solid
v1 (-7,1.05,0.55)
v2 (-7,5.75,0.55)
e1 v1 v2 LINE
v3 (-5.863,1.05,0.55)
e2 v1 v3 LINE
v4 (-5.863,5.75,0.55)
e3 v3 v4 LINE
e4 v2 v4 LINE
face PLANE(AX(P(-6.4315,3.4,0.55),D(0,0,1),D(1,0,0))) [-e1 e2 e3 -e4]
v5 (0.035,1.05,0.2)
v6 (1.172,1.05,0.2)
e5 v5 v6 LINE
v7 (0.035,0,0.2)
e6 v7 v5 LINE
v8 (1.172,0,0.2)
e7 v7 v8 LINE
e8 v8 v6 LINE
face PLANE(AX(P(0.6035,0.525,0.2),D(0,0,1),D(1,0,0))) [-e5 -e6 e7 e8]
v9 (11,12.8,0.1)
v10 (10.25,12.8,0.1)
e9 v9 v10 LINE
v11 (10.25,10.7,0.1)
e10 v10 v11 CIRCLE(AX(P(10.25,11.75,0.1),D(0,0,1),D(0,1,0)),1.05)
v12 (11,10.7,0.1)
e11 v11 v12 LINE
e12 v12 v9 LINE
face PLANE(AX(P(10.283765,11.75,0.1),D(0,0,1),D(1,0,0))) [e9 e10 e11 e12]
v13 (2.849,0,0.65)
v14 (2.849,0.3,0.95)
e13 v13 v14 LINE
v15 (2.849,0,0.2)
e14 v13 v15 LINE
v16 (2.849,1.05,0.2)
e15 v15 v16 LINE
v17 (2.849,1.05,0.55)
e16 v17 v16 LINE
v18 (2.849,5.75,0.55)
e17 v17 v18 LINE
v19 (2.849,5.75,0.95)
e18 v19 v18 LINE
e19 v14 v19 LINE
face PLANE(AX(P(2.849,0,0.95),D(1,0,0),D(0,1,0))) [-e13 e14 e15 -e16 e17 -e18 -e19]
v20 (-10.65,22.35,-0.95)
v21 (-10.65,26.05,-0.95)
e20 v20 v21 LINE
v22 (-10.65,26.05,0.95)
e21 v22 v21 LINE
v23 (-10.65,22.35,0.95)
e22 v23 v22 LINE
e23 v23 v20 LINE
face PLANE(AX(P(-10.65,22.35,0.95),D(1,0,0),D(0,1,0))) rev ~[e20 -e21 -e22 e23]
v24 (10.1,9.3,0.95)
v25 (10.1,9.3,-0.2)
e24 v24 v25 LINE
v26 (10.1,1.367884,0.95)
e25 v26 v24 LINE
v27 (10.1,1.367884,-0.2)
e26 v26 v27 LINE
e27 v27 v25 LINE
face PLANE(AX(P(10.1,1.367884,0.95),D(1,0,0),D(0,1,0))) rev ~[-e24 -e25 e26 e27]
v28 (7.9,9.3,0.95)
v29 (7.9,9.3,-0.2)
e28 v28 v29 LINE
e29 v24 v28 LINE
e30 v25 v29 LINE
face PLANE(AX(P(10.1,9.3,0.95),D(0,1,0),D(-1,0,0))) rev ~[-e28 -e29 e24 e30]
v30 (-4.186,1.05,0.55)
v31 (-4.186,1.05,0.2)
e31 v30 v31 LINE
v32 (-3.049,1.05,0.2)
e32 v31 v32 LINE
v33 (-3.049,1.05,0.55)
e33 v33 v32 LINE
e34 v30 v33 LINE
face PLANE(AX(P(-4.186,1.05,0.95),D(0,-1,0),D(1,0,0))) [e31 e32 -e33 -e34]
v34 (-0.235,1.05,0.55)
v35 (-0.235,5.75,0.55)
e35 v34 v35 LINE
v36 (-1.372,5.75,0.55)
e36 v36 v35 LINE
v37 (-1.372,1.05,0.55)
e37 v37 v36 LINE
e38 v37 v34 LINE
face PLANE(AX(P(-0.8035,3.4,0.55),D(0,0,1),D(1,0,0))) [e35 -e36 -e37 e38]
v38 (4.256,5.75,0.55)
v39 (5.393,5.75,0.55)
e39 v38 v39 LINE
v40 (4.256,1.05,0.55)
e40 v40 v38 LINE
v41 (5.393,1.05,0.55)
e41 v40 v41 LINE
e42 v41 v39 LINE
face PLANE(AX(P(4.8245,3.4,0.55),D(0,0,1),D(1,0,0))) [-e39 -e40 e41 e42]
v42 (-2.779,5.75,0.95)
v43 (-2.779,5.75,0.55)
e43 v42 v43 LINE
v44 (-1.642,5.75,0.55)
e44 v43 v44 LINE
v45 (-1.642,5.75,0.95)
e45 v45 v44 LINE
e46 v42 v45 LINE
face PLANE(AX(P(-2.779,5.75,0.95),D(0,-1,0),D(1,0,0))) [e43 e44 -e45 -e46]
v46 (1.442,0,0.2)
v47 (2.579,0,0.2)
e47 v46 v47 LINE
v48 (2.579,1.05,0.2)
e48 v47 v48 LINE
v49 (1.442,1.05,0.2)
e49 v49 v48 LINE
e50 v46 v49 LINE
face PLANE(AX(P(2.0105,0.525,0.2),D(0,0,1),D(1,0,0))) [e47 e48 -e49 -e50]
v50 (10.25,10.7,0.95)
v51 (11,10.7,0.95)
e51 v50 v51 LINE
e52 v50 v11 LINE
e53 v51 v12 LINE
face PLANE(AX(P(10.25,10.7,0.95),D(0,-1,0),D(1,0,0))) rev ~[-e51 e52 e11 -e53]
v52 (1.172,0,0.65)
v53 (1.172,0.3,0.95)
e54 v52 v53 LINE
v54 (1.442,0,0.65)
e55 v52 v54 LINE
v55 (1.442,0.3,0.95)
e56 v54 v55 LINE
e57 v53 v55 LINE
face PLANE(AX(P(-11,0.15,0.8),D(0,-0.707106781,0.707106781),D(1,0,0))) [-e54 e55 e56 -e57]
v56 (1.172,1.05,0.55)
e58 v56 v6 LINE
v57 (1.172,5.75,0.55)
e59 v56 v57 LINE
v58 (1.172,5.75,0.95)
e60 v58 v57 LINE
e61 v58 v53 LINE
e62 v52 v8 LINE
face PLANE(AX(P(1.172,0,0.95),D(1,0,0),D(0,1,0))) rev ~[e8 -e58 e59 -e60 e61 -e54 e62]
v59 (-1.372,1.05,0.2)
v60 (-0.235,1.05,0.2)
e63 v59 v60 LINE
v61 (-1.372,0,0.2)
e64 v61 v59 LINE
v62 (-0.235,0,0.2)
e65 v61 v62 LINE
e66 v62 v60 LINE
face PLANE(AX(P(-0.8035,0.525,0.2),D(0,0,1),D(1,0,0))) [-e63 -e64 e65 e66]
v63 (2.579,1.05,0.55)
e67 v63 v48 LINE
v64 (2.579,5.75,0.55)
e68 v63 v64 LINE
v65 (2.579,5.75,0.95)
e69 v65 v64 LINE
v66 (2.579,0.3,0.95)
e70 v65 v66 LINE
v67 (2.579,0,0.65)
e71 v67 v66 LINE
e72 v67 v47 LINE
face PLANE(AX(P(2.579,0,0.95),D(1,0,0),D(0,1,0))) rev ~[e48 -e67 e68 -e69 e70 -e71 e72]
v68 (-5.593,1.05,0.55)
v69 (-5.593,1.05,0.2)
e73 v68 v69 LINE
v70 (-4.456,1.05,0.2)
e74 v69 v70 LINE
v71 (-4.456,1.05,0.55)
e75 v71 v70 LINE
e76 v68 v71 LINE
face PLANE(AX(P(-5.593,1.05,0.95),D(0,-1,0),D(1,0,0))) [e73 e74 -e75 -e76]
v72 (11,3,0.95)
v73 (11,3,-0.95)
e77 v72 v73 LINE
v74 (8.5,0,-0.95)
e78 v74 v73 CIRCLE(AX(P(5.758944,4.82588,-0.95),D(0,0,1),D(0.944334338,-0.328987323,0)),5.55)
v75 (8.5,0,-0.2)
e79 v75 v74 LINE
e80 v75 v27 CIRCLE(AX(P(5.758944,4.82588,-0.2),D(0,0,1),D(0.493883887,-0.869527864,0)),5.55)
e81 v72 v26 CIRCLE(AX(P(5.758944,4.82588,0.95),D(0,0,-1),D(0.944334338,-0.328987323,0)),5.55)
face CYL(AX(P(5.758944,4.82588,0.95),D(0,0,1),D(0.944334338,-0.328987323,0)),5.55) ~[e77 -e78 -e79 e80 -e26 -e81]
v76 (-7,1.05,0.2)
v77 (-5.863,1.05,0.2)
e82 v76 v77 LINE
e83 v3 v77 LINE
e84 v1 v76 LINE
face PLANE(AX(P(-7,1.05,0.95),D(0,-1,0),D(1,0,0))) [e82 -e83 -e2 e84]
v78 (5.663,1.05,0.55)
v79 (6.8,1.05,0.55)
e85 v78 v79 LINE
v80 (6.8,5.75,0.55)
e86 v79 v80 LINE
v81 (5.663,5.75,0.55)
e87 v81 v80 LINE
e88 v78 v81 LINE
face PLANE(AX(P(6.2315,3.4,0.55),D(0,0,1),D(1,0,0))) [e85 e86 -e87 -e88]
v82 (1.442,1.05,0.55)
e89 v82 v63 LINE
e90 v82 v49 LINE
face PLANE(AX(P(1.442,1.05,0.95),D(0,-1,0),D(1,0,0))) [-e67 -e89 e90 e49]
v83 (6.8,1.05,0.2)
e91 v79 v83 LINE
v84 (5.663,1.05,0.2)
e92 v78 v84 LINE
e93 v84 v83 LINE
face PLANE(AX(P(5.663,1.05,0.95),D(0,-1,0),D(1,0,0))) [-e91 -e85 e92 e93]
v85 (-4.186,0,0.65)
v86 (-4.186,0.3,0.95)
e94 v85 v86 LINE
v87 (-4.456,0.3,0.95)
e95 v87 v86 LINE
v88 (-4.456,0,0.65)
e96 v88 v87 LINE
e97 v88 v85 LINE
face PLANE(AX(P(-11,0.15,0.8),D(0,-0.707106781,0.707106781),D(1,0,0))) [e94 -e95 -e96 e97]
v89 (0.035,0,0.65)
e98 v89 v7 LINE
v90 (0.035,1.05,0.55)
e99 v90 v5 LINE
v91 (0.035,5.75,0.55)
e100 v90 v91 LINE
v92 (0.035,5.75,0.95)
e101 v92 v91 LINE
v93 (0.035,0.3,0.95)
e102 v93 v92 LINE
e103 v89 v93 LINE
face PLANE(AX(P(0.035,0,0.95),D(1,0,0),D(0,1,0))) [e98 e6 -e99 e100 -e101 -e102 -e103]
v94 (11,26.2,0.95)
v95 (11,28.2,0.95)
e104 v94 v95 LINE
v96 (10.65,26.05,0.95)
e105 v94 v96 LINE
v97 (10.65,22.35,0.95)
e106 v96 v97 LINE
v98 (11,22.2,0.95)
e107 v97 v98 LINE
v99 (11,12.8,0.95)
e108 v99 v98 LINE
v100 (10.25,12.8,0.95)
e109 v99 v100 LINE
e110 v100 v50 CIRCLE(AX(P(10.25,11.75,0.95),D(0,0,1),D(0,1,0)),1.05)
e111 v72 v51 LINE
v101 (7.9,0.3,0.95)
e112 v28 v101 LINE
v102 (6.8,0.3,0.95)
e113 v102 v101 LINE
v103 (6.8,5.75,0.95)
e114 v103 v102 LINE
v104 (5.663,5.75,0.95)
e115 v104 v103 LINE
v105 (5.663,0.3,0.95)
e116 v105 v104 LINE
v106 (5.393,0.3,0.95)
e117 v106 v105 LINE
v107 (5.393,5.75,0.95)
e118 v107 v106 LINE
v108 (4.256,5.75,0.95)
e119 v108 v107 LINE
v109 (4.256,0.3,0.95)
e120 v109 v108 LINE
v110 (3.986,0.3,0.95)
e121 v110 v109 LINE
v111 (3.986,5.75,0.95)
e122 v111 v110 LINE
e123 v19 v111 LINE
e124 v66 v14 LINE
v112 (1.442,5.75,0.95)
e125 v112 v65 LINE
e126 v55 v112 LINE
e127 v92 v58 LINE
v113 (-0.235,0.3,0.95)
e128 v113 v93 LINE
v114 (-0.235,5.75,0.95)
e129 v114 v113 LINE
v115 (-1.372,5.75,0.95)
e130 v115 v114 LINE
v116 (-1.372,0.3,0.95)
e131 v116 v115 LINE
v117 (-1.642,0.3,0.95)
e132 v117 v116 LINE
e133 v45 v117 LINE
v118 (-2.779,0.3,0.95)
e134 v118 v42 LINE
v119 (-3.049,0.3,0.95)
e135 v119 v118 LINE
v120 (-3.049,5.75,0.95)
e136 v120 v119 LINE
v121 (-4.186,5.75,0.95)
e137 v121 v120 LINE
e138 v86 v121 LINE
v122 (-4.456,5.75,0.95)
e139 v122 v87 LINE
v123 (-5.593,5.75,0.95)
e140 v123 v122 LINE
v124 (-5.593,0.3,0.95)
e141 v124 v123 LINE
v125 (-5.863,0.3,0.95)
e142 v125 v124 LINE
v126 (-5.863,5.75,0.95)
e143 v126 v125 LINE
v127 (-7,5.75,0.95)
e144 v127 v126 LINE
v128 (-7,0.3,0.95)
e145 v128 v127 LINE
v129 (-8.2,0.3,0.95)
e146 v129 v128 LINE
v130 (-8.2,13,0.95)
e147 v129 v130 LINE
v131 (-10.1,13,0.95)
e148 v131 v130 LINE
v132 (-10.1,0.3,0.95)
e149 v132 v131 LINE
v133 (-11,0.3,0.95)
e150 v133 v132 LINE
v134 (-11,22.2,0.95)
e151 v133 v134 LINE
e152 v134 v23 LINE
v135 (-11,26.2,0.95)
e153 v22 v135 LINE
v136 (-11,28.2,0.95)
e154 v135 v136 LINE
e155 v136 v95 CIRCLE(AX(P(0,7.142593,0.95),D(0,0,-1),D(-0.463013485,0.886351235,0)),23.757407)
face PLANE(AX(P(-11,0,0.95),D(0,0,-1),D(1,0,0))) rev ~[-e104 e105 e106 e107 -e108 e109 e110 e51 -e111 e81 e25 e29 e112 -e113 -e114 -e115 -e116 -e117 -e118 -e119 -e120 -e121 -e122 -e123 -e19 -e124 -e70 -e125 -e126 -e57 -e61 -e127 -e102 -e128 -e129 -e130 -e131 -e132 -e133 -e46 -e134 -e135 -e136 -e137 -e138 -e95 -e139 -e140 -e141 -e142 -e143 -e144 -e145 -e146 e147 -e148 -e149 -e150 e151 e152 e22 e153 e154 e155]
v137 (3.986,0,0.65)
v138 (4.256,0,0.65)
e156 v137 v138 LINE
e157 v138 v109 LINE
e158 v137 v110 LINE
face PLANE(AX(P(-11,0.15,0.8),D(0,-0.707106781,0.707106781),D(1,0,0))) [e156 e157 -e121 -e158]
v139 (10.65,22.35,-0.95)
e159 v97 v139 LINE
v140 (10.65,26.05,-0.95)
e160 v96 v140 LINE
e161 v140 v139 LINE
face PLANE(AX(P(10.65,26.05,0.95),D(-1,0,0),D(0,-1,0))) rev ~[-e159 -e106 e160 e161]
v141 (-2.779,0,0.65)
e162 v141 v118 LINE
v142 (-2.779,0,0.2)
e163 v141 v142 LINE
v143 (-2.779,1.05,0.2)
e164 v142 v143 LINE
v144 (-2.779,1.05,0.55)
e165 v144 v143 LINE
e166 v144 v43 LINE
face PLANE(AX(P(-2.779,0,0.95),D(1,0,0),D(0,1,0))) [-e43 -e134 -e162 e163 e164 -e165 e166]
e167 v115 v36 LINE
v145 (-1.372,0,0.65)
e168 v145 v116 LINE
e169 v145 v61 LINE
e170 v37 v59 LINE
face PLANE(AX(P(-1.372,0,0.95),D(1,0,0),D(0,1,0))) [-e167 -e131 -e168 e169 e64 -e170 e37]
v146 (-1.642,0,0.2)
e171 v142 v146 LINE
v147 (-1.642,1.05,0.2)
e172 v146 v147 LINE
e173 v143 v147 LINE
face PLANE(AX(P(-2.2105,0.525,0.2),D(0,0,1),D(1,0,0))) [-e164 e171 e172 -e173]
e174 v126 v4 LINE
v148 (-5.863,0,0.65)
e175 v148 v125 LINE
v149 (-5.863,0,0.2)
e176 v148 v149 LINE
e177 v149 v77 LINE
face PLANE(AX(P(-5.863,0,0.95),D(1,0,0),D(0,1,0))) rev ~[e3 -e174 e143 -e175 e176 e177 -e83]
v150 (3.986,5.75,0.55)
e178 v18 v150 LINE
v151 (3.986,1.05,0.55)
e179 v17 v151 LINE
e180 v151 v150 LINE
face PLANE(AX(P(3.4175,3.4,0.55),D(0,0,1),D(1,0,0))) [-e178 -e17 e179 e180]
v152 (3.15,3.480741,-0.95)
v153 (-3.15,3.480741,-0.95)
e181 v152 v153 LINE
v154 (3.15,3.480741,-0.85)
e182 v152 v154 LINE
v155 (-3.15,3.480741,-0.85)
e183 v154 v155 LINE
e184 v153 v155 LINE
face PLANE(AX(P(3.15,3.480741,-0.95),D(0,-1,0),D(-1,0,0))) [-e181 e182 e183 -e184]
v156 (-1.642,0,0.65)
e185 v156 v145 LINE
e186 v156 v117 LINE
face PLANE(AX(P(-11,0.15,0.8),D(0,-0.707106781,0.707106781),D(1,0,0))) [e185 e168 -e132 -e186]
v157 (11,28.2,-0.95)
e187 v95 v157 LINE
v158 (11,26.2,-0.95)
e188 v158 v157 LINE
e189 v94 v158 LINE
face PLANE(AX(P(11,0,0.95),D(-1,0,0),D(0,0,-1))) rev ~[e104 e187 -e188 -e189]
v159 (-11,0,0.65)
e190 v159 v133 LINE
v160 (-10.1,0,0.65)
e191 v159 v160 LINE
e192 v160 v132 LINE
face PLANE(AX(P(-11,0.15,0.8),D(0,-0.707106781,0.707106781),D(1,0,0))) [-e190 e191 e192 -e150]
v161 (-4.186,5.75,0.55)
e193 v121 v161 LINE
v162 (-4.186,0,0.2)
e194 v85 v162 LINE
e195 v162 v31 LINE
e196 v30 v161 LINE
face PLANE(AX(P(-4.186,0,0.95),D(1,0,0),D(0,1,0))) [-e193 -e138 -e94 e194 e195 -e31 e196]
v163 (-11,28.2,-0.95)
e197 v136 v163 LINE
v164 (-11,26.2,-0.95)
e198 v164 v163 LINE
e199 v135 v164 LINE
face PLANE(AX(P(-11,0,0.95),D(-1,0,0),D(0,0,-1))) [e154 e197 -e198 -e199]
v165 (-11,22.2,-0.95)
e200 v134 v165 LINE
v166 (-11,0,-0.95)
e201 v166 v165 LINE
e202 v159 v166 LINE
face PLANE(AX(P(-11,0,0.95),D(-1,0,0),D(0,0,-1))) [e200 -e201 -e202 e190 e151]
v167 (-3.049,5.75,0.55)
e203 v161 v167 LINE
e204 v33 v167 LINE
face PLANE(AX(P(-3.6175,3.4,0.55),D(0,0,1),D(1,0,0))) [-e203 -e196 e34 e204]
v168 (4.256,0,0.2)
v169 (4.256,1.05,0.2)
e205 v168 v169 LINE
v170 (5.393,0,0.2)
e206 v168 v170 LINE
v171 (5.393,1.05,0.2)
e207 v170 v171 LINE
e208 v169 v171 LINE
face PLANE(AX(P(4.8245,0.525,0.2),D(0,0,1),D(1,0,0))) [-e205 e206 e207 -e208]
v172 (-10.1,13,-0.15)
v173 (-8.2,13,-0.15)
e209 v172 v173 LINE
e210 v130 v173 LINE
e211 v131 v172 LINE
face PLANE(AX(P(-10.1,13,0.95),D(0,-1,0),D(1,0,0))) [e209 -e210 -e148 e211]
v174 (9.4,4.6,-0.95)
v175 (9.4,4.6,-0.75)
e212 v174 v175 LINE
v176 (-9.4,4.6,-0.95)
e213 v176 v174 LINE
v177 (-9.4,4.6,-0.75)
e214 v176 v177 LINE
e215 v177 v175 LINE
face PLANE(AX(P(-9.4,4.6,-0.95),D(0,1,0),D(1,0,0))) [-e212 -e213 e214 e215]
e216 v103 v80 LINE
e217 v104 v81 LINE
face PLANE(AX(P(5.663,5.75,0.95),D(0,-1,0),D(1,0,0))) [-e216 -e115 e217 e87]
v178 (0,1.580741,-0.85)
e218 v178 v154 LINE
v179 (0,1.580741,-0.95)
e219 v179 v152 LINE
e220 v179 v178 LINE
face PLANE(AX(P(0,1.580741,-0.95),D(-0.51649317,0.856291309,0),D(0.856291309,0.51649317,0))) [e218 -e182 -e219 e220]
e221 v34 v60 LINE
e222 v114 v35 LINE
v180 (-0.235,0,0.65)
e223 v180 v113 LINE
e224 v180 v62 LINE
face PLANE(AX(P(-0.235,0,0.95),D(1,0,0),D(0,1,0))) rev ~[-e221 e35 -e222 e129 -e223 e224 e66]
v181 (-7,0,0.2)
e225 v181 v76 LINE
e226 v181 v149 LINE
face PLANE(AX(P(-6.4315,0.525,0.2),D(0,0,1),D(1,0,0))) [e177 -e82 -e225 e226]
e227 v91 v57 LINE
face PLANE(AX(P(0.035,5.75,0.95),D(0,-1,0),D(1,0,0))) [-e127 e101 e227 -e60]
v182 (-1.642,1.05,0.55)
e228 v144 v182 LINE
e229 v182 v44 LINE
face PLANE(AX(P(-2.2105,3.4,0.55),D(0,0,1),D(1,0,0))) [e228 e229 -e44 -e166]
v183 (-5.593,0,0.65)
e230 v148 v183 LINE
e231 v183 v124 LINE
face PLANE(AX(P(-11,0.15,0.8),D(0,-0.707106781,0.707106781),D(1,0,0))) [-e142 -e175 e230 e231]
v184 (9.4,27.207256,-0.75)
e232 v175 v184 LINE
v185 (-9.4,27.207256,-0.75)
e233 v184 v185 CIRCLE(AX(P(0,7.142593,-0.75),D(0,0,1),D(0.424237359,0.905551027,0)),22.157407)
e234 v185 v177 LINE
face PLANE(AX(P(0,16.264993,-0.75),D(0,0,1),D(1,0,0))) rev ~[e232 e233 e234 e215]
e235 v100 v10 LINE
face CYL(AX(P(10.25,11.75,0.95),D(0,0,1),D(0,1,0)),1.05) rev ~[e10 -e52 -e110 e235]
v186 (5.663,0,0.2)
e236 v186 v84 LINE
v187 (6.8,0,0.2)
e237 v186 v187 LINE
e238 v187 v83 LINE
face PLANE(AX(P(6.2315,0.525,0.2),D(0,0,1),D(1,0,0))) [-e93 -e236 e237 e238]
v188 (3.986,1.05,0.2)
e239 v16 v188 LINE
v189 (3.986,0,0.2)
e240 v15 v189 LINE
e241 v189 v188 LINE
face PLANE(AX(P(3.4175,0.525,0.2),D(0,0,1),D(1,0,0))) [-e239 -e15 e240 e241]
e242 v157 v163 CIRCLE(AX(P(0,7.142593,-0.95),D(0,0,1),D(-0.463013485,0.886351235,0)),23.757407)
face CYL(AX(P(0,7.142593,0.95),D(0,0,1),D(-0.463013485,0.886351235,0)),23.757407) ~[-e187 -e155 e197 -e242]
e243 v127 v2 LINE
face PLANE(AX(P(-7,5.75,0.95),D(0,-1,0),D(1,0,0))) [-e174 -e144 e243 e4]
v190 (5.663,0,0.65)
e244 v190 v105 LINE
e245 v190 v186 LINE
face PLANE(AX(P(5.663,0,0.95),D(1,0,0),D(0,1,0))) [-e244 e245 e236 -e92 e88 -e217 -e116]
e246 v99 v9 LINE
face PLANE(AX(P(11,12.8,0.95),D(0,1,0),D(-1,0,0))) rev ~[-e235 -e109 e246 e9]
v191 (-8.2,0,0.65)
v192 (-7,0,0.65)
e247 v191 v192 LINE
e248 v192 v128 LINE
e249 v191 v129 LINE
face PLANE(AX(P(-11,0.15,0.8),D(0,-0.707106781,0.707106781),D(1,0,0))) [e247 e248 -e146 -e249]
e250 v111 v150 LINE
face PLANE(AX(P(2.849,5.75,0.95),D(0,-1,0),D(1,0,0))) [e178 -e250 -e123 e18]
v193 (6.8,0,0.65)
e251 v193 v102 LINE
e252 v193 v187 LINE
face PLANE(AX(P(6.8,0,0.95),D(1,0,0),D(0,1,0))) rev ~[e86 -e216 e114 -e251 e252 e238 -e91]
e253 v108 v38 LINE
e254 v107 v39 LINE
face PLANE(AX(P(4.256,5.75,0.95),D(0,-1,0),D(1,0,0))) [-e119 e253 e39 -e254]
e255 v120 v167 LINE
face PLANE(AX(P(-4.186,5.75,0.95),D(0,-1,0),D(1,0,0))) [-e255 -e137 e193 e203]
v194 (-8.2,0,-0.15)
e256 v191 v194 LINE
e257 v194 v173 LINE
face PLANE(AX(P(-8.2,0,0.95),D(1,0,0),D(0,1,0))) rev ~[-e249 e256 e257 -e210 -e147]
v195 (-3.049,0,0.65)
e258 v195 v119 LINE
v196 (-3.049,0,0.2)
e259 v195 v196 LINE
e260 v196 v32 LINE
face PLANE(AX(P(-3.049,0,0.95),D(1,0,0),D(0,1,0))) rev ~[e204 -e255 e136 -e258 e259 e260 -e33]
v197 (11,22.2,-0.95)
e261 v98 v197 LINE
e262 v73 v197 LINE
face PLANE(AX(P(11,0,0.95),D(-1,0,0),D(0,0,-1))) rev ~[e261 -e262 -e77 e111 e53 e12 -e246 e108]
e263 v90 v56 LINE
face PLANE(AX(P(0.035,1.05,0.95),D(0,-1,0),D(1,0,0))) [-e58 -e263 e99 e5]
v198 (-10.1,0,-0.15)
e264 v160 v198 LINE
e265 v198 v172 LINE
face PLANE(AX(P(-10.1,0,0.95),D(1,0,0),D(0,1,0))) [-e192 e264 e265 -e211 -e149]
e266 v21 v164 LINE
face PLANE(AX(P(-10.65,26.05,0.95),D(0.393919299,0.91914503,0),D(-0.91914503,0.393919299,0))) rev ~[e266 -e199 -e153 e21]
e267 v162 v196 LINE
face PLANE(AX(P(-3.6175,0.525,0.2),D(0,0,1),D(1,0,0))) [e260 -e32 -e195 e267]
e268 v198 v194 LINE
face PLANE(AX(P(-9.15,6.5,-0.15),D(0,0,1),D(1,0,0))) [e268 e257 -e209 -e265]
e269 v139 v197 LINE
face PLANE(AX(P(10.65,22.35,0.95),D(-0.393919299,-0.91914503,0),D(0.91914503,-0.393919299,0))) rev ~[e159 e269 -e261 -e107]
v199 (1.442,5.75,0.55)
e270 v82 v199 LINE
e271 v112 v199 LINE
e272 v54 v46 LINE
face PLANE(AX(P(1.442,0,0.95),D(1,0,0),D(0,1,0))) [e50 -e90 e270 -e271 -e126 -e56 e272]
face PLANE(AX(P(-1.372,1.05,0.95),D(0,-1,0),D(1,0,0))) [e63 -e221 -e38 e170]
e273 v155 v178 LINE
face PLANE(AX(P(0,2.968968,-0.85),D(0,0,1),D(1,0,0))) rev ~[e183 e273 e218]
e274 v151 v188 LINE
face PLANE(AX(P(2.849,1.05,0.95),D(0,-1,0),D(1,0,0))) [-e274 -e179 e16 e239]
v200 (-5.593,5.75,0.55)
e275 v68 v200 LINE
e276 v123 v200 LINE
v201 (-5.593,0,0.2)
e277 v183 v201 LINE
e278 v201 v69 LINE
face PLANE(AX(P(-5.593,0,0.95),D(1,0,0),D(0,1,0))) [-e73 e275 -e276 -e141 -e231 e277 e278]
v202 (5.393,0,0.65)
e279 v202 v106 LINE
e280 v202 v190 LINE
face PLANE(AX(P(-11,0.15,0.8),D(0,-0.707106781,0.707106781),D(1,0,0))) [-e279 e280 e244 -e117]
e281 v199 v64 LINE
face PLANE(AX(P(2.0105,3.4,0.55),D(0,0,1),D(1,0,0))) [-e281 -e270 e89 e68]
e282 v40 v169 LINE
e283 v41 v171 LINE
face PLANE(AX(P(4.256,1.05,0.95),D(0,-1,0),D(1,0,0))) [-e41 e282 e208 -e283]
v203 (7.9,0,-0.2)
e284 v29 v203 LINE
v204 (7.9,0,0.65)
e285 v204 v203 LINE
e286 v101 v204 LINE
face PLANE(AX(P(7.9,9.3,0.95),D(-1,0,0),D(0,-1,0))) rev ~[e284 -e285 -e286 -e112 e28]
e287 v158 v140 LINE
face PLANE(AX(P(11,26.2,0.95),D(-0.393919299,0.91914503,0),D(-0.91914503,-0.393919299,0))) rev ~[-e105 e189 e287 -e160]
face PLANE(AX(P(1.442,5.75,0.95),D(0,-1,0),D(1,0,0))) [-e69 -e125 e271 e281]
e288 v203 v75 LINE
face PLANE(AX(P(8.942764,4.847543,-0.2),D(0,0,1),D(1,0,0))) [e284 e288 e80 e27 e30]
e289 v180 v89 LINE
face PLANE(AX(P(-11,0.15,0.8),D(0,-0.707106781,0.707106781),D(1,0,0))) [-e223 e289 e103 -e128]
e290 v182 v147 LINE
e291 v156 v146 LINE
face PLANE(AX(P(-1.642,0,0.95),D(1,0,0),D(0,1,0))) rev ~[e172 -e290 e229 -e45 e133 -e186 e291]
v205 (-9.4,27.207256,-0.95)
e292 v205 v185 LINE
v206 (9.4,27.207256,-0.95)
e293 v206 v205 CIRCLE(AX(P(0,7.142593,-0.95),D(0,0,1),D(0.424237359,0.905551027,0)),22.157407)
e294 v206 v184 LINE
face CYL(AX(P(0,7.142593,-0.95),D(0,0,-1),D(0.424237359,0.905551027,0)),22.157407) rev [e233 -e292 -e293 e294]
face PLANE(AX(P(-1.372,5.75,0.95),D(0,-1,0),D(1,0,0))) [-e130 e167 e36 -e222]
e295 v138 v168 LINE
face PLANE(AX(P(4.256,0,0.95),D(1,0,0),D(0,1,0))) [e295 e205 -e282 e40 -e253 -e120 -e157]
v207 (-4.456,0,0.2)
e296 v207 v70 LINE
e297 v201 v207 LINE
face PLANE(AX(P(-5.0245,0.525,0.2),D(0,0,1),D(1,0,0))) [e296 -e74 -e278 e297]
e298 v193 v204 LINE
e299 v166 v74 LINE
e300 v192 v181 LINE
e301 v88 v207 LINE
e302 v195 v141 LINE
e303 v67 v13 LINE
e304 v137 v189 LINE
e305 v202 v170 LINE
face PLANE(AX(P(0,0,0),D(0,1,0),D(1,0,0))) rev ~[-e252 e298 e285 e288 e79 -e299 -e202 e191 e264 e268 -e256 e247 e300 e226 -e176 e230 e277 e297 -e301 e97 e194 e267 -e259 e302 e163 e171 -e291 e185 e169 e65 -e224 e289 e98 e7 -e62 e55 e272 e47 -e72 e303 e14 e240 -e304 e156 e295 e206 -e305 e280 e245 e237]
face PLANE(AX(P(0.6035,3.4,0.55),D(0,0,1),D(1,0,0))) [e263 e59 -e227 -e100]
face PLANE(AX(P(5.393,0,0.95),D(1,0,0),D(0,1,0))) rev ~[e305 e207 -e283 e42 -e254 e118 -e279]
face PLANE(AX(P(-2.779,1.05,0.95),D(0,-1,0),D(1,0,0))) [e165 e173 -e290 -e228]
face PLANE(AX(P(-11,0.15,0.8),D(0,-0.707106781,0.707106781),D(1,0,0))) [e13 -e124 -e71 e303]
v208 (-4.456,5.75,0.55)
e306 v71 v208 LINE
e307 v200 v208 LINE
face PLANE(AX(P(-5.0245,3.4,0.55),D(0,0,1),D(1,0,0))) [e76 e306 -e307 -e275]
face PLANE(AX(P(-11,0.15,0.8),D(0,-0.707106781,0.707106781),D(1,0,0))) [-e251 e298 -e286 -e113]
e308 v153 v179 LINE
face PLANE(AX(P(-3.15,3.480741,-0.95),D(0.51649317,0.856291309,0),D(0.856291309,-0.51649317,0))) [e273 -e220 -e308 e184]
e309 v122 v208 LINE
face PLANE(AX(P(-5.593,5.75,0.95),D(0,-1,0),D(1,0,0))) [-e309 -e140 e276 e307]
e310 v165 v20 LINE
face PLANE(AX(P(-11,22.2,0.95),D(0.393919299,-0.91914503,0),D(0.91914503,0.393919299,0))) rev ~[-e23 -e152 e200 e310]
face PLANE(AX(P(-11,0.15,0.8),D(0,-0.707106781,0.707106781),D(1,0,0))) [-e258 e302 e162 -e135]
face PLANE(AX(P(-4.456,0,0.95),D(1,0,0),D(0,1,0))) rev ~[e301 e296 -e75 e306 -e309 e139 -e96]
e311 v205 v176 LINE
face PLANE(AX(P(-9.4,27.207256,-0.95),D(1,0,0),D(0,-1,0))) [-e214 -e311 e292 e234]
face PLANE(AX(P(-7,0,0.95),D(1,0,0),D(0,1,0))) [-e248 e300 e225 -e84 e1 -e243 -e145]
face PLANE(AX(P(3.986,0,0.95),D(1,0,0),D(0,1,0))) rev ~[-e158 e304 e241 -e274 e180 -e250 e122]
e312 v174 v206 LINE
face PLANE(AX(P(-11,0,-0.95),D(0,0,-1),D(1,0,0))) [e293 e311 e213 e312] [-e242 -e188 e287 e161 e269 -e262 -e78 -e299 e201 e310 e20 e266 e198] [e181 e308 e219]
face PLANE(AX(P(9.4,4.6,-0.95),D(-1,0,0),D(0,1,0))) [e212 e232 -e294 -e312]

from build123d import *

# Parameters (mm, degrees)
SKETCH1_W           = 22
SKETCH1_H           = 1.9
BOSS_EXTRUDE1_DEPTH = 31.1
CUT_EXTRUDE2_REACH  = 35.043
CUT_EXTRUDE3_REACH  = 34.855
CUT_EXTRUDE4_DEPTH  = 0.85
CHAMFER1_SIZE       = 0.3
SKETCH2_8_W         = 1.9
SKETCH2_8_H         = 13
CUT_EXTRUDE6_DEPTH  = 1.1
CUT_EXTRUDE7_DEPTH  = 1.15
SKETCH2_10_W        = 1.137
SKETCH2_10_H        = 1.05
CUT_EXTRUDE8_DEPTH  = 0.75
SKETCH2_11_W        = 1.137
SKETCH2_11_H        = 4.7
CUT_EXTRUDE9_DEPTH  = 0.4
CUT_EXTRUDE10_DEPTH = 0.2
CUT_EXTRUDE12_DEPTH = 0.1


with BuildPart() as part:
    # Sketch1 → Boss-Extrude1 (new body)
    with BuildSketch(Plane(origin=(0, 0, 0), x_dir=(1, 0, 0), z_dir=(0, 1, 0))):
        Rectangle(SKETCH1_W, SKETCH1_H)
    extrude(amount=BOSS_EXTRUDE1_DEPTH)

    # Sketch2 → Cut-Extrude2 (cut, up to next)
    with BuildSketch(Plane.XY.offset(0.95), mode=Mode.PRIVATE) as cut_extrude2_sk1:
        with BuildLine():
            Line((-11, 31.1), (-11, 28.2))
            ThreePointArc((-11, 28.2), (0, 30.9), (11, 28.2))
            Line((11, 28.2), (11, 31.1))
            Line((11, 31.1), (-11, 31.1))
        make_face()
    cut_extrude2_tool1 = extrude(cut_extrude2_sk1.sketch, amount=-CUT_EXTRUDE2_REACH, mode=Mode.PRIVATE) & part.part
    add(cut_extrude2_tool1.solids().sort_by_distance((10.778097, 29.65, 0.95))[0], mode=Mode.SUBTRACT)

    # Sketch2<4> → Cut-Extrude3 (cut, up to next)
    with BuildSketch(Plane.XY.offset(0.95), mode=Mode.PRIVATE) as cut_extrude3_sk1:
        Polygon((-11, 26.2), (-11, 22.2), (-10.65, 22.35), (-10.65, 26.05), align=None)
    cut_extrude3_tool1 = extrude(cut_extrude3_sk1.sketch, amount=-CUT_EXTRUDE3_REACH, mode=Mode.PRIVATE) & part.part
    # Sketch2<4> → Cut-Extrude3 (cut, up to next)
    with BuildSketch(Plane.XY.offset(0.95), mode=Mode.PRIVATE) as cut_extrude3_sk2:
        Polygon((11, 22.2), (11, 26.2), (10.65, 26.05), (10.65, 22.35), align=None)
    cut_extrude3_tool2 = extrude(cut_extrude3_sk2.sketch, amount=-CUT_EXTRUDE3_REACH, mode=Mode.PRIVATE) & part.part
    # Sketch2<4> → Cut-Extrude3 (cut, up to next)
    with BuildSketch(Plane.XY.offset(0.95), mode=Mode.PRIVATE) as cut_extrude3_sk3:
        with BuildLine():
            Line((11, 0), (11, 3))
            ThreePointArc((11, 3), (10.022572528, 1.272856226), (8.5, 0))
            Line((8.5, 0), (11, 0))
        make_face()
    cut_extrude3_tool3 = extrude(cut_extrude3_sk3.sketch, amount=-CUT_EXTRUDE3_REACH, mode=Mode.PRIVATE) & part.part
    add(cut_extrude3_tool1.solids().sort_by_distance((-10.827273, 24.2, 0.95))[0], mode=Mode.SUBTRACT)
    add(cut_extrude3_tool2.solids().sort_by_distance((10.827273, 24.2, 0.95))[0], mode=Mode.SUBTRACT)
    add(cut_extrude3_tool3.solids().sort_by_distance((10.267991, 0.865194, 0.95))[0], mode=Mode.SUBTRACT)

    # Sketch2<5> → Cut-Extrude4 (cut)
    with BuildSketch(Plane.XY.offset(0.95)):
        with BuildLine():
            Line((11, 10.7), (11, 12.8))
            Line((11, 12.8), (10.25, 12.8))
            ThreePointArc((10.25, 12.8), (9.2, 11.75), (10.25, 10.7))
            Line((10.25, 10.7), (11, 10.7))
        make_face()
    extrude(amount=-CUT_EXTRUDE4_DEPTH, mode=Mode.SUBTRACT)

    # Chamfer1
    chamfer1_edges = [part.edges().sort_by_distance(p)[0] for p in [
        (-1.25, 0, 0.95),
    ]]
    chamfer(chamfer1_edges, length=CHAMFER1_SIZE)

    # Sketch2<8> → Cut-Extrude6 (cut)
    with BuildSketch(Plane.XY.offset(0.95)):
        with Locations((-9.15, 6.5)):
            Rectangle(SKETCH2_8_W, SKETCH2_8_H)
    extrude(amount=-CUT_EXTRUDE6_DEPTH, mode=Mode.SUBTRACT)

    # Sketch2<9> → Cut-Extrude7 (cut)
    with BuildSketch(Plane.XY.offset(0.95)):
        with BuildLine():
            ThreePointArc((8.5, 0), (9.365445636, 0.607390694), (10.1, 1.36788362))
            Line((10.1, 1.36788362), (10.1, 9.3))
            Line((10.1, 9.3), (7.9, 9.3))
            Line((7.9, 9.3), (7.9, 0))
            Line((7.9, 0), (8.5, 0))
        make_face()
    extrude(amount=-CUT_EXTRUDE7_DEPTH, mode=Mode.SUBTRACT)

    # Sketch2<10> → Cut-Extrude8 (cut)
    with BuildSketch(Plane.XY.offset(0.95)):
        with Locations((-6.4315, 0.525)):
            Rectangle(SKETCH2_10_W, SKETCH2_10_H)
        with Locations((-5.0245, 0.525)):
            Rectangle(SKETCH2_10_W, SKETCH2_10_H)
        with Locations((-3.6175, 0.525)):
            Rectangle(SKETCH2_10_W, SKETCH2_10_H)
        with Locations((-2.2105, 0.525)):
            Rectangle(SKETCH2_10_W, SKETCH2_10_H)
        with Locations((-0.8035, 0.525)):
            Rectangle(SKETCH2_10_W, SKETCH2_10_H)
        with Locations((0.6035, 0.525)):
            Rectangle(SKETCH2_10_W, SKETCH2_10_H)
        with Locations((2.0105, 0.525)):
            Rectangle(SKETCH2_10_W, SKETCH2_10_H)
        with Locations((3.4175, 0.525)):
            Rectangle(SKETCH2_10_W, SKETCH2_10_H)
        with Locations((6.2315, 0.525)):
            Rectangle(SKETCH2_10_W, SKETCH2_10_H)
        with Locations((4.8245, 0.525)):
            Rectangle(SKETCH2_10_W, SKETCH2_10_H)
    extrude(amount=-CUT_EXTRUDE8_DEPTH, mode=Mode.SUBTRACT)

    # Sketch2<11> → Cut-Extrude9 (cut)
    with BuildSketch(Plane.XY.offset(0.95)):
        with Locations((-6.4315, 3.4)):
            Rectangle(SKETCH2_11_W, SKETCH2_11_H)
        with Locations((-5.0245, 3.4)):
            Rectangle(SKETCH2_11_W, SKETCH2_11_H)
        with Locations((-3.6175, 3.4)):
            Rectangle(SKETCH2_11_W, SKETCH2_11_H)
        with Locations((-2.2105, 3.4)):
            Rectangle(SKETCH2_11_W, SKETCH2_11_H)
        with Locations((-0.8035, 3.4)):
            Rectangle(SKETCH2_11_W, SKETCH2_11_H)
        with Locations((0.6035, 3.4)):
            Rectangle(SKETCH2_11_W, SKETCH2_11_H)
        with Locations((2.0105, 3.4)):
            Rectangle(SKETCH2_11_W, SKETCH2_11_H)
        with Locations((3.4175, 3.4)):
            Rectangle(SKETCH2_11_W, SKETCH2_11_H)
        with Locations((6.2315, 3.4)):
            Rectangle(SKETCH2_11_W, SKETCH2_11_H)
        with Locations((4.8245, 3.4)):
            Rectangle(SKETCH2_11_W, SKETCH2_11_H)
    extrude(amount=-CUT_EXTRUDE9_DEPTH, mode=Mode.SUBTRACT)

    # Sketch5 → Cut-Extrude10 (cut)
    with BuildSketch(Plane(origin=(0, 0, -0.95), x_dir=(-1, 0, 0), z_dir=(0, 0, -1))):
        with BuildLine():
            Line((-9.4, 4.6), (-9.4, 27.207255635))
            ThreePointArc((-9.4, 27.207255635), (0, 29.3), (9.4, 27.207255635))
            Line((9.4, 27.207255635), (9.4, 4.6))
            Line((9.4, 4.6), (-9.4, 4.6))
        make_face()
    extrude(amount=-CUT_EXTRUDE10_DEPTH, mode=Mode.SUBTRACT)

    # Sketch6 → Cut-Extrude12 (cut)
    with BuildSketch(Plane(origin=(0, 0, -0.95), x_dir=(-1, 0, 0), z_dir=(0, 0, -1))):
        Polygon((-3.15, 3.48074093), (3.15, 3.48074093), (0, 1.58074093), align=None)
    extrude(amount=-CUT_EXTRUDE12_DEPTH, mode=Mode.SUBTRACT)


solid = part.part
